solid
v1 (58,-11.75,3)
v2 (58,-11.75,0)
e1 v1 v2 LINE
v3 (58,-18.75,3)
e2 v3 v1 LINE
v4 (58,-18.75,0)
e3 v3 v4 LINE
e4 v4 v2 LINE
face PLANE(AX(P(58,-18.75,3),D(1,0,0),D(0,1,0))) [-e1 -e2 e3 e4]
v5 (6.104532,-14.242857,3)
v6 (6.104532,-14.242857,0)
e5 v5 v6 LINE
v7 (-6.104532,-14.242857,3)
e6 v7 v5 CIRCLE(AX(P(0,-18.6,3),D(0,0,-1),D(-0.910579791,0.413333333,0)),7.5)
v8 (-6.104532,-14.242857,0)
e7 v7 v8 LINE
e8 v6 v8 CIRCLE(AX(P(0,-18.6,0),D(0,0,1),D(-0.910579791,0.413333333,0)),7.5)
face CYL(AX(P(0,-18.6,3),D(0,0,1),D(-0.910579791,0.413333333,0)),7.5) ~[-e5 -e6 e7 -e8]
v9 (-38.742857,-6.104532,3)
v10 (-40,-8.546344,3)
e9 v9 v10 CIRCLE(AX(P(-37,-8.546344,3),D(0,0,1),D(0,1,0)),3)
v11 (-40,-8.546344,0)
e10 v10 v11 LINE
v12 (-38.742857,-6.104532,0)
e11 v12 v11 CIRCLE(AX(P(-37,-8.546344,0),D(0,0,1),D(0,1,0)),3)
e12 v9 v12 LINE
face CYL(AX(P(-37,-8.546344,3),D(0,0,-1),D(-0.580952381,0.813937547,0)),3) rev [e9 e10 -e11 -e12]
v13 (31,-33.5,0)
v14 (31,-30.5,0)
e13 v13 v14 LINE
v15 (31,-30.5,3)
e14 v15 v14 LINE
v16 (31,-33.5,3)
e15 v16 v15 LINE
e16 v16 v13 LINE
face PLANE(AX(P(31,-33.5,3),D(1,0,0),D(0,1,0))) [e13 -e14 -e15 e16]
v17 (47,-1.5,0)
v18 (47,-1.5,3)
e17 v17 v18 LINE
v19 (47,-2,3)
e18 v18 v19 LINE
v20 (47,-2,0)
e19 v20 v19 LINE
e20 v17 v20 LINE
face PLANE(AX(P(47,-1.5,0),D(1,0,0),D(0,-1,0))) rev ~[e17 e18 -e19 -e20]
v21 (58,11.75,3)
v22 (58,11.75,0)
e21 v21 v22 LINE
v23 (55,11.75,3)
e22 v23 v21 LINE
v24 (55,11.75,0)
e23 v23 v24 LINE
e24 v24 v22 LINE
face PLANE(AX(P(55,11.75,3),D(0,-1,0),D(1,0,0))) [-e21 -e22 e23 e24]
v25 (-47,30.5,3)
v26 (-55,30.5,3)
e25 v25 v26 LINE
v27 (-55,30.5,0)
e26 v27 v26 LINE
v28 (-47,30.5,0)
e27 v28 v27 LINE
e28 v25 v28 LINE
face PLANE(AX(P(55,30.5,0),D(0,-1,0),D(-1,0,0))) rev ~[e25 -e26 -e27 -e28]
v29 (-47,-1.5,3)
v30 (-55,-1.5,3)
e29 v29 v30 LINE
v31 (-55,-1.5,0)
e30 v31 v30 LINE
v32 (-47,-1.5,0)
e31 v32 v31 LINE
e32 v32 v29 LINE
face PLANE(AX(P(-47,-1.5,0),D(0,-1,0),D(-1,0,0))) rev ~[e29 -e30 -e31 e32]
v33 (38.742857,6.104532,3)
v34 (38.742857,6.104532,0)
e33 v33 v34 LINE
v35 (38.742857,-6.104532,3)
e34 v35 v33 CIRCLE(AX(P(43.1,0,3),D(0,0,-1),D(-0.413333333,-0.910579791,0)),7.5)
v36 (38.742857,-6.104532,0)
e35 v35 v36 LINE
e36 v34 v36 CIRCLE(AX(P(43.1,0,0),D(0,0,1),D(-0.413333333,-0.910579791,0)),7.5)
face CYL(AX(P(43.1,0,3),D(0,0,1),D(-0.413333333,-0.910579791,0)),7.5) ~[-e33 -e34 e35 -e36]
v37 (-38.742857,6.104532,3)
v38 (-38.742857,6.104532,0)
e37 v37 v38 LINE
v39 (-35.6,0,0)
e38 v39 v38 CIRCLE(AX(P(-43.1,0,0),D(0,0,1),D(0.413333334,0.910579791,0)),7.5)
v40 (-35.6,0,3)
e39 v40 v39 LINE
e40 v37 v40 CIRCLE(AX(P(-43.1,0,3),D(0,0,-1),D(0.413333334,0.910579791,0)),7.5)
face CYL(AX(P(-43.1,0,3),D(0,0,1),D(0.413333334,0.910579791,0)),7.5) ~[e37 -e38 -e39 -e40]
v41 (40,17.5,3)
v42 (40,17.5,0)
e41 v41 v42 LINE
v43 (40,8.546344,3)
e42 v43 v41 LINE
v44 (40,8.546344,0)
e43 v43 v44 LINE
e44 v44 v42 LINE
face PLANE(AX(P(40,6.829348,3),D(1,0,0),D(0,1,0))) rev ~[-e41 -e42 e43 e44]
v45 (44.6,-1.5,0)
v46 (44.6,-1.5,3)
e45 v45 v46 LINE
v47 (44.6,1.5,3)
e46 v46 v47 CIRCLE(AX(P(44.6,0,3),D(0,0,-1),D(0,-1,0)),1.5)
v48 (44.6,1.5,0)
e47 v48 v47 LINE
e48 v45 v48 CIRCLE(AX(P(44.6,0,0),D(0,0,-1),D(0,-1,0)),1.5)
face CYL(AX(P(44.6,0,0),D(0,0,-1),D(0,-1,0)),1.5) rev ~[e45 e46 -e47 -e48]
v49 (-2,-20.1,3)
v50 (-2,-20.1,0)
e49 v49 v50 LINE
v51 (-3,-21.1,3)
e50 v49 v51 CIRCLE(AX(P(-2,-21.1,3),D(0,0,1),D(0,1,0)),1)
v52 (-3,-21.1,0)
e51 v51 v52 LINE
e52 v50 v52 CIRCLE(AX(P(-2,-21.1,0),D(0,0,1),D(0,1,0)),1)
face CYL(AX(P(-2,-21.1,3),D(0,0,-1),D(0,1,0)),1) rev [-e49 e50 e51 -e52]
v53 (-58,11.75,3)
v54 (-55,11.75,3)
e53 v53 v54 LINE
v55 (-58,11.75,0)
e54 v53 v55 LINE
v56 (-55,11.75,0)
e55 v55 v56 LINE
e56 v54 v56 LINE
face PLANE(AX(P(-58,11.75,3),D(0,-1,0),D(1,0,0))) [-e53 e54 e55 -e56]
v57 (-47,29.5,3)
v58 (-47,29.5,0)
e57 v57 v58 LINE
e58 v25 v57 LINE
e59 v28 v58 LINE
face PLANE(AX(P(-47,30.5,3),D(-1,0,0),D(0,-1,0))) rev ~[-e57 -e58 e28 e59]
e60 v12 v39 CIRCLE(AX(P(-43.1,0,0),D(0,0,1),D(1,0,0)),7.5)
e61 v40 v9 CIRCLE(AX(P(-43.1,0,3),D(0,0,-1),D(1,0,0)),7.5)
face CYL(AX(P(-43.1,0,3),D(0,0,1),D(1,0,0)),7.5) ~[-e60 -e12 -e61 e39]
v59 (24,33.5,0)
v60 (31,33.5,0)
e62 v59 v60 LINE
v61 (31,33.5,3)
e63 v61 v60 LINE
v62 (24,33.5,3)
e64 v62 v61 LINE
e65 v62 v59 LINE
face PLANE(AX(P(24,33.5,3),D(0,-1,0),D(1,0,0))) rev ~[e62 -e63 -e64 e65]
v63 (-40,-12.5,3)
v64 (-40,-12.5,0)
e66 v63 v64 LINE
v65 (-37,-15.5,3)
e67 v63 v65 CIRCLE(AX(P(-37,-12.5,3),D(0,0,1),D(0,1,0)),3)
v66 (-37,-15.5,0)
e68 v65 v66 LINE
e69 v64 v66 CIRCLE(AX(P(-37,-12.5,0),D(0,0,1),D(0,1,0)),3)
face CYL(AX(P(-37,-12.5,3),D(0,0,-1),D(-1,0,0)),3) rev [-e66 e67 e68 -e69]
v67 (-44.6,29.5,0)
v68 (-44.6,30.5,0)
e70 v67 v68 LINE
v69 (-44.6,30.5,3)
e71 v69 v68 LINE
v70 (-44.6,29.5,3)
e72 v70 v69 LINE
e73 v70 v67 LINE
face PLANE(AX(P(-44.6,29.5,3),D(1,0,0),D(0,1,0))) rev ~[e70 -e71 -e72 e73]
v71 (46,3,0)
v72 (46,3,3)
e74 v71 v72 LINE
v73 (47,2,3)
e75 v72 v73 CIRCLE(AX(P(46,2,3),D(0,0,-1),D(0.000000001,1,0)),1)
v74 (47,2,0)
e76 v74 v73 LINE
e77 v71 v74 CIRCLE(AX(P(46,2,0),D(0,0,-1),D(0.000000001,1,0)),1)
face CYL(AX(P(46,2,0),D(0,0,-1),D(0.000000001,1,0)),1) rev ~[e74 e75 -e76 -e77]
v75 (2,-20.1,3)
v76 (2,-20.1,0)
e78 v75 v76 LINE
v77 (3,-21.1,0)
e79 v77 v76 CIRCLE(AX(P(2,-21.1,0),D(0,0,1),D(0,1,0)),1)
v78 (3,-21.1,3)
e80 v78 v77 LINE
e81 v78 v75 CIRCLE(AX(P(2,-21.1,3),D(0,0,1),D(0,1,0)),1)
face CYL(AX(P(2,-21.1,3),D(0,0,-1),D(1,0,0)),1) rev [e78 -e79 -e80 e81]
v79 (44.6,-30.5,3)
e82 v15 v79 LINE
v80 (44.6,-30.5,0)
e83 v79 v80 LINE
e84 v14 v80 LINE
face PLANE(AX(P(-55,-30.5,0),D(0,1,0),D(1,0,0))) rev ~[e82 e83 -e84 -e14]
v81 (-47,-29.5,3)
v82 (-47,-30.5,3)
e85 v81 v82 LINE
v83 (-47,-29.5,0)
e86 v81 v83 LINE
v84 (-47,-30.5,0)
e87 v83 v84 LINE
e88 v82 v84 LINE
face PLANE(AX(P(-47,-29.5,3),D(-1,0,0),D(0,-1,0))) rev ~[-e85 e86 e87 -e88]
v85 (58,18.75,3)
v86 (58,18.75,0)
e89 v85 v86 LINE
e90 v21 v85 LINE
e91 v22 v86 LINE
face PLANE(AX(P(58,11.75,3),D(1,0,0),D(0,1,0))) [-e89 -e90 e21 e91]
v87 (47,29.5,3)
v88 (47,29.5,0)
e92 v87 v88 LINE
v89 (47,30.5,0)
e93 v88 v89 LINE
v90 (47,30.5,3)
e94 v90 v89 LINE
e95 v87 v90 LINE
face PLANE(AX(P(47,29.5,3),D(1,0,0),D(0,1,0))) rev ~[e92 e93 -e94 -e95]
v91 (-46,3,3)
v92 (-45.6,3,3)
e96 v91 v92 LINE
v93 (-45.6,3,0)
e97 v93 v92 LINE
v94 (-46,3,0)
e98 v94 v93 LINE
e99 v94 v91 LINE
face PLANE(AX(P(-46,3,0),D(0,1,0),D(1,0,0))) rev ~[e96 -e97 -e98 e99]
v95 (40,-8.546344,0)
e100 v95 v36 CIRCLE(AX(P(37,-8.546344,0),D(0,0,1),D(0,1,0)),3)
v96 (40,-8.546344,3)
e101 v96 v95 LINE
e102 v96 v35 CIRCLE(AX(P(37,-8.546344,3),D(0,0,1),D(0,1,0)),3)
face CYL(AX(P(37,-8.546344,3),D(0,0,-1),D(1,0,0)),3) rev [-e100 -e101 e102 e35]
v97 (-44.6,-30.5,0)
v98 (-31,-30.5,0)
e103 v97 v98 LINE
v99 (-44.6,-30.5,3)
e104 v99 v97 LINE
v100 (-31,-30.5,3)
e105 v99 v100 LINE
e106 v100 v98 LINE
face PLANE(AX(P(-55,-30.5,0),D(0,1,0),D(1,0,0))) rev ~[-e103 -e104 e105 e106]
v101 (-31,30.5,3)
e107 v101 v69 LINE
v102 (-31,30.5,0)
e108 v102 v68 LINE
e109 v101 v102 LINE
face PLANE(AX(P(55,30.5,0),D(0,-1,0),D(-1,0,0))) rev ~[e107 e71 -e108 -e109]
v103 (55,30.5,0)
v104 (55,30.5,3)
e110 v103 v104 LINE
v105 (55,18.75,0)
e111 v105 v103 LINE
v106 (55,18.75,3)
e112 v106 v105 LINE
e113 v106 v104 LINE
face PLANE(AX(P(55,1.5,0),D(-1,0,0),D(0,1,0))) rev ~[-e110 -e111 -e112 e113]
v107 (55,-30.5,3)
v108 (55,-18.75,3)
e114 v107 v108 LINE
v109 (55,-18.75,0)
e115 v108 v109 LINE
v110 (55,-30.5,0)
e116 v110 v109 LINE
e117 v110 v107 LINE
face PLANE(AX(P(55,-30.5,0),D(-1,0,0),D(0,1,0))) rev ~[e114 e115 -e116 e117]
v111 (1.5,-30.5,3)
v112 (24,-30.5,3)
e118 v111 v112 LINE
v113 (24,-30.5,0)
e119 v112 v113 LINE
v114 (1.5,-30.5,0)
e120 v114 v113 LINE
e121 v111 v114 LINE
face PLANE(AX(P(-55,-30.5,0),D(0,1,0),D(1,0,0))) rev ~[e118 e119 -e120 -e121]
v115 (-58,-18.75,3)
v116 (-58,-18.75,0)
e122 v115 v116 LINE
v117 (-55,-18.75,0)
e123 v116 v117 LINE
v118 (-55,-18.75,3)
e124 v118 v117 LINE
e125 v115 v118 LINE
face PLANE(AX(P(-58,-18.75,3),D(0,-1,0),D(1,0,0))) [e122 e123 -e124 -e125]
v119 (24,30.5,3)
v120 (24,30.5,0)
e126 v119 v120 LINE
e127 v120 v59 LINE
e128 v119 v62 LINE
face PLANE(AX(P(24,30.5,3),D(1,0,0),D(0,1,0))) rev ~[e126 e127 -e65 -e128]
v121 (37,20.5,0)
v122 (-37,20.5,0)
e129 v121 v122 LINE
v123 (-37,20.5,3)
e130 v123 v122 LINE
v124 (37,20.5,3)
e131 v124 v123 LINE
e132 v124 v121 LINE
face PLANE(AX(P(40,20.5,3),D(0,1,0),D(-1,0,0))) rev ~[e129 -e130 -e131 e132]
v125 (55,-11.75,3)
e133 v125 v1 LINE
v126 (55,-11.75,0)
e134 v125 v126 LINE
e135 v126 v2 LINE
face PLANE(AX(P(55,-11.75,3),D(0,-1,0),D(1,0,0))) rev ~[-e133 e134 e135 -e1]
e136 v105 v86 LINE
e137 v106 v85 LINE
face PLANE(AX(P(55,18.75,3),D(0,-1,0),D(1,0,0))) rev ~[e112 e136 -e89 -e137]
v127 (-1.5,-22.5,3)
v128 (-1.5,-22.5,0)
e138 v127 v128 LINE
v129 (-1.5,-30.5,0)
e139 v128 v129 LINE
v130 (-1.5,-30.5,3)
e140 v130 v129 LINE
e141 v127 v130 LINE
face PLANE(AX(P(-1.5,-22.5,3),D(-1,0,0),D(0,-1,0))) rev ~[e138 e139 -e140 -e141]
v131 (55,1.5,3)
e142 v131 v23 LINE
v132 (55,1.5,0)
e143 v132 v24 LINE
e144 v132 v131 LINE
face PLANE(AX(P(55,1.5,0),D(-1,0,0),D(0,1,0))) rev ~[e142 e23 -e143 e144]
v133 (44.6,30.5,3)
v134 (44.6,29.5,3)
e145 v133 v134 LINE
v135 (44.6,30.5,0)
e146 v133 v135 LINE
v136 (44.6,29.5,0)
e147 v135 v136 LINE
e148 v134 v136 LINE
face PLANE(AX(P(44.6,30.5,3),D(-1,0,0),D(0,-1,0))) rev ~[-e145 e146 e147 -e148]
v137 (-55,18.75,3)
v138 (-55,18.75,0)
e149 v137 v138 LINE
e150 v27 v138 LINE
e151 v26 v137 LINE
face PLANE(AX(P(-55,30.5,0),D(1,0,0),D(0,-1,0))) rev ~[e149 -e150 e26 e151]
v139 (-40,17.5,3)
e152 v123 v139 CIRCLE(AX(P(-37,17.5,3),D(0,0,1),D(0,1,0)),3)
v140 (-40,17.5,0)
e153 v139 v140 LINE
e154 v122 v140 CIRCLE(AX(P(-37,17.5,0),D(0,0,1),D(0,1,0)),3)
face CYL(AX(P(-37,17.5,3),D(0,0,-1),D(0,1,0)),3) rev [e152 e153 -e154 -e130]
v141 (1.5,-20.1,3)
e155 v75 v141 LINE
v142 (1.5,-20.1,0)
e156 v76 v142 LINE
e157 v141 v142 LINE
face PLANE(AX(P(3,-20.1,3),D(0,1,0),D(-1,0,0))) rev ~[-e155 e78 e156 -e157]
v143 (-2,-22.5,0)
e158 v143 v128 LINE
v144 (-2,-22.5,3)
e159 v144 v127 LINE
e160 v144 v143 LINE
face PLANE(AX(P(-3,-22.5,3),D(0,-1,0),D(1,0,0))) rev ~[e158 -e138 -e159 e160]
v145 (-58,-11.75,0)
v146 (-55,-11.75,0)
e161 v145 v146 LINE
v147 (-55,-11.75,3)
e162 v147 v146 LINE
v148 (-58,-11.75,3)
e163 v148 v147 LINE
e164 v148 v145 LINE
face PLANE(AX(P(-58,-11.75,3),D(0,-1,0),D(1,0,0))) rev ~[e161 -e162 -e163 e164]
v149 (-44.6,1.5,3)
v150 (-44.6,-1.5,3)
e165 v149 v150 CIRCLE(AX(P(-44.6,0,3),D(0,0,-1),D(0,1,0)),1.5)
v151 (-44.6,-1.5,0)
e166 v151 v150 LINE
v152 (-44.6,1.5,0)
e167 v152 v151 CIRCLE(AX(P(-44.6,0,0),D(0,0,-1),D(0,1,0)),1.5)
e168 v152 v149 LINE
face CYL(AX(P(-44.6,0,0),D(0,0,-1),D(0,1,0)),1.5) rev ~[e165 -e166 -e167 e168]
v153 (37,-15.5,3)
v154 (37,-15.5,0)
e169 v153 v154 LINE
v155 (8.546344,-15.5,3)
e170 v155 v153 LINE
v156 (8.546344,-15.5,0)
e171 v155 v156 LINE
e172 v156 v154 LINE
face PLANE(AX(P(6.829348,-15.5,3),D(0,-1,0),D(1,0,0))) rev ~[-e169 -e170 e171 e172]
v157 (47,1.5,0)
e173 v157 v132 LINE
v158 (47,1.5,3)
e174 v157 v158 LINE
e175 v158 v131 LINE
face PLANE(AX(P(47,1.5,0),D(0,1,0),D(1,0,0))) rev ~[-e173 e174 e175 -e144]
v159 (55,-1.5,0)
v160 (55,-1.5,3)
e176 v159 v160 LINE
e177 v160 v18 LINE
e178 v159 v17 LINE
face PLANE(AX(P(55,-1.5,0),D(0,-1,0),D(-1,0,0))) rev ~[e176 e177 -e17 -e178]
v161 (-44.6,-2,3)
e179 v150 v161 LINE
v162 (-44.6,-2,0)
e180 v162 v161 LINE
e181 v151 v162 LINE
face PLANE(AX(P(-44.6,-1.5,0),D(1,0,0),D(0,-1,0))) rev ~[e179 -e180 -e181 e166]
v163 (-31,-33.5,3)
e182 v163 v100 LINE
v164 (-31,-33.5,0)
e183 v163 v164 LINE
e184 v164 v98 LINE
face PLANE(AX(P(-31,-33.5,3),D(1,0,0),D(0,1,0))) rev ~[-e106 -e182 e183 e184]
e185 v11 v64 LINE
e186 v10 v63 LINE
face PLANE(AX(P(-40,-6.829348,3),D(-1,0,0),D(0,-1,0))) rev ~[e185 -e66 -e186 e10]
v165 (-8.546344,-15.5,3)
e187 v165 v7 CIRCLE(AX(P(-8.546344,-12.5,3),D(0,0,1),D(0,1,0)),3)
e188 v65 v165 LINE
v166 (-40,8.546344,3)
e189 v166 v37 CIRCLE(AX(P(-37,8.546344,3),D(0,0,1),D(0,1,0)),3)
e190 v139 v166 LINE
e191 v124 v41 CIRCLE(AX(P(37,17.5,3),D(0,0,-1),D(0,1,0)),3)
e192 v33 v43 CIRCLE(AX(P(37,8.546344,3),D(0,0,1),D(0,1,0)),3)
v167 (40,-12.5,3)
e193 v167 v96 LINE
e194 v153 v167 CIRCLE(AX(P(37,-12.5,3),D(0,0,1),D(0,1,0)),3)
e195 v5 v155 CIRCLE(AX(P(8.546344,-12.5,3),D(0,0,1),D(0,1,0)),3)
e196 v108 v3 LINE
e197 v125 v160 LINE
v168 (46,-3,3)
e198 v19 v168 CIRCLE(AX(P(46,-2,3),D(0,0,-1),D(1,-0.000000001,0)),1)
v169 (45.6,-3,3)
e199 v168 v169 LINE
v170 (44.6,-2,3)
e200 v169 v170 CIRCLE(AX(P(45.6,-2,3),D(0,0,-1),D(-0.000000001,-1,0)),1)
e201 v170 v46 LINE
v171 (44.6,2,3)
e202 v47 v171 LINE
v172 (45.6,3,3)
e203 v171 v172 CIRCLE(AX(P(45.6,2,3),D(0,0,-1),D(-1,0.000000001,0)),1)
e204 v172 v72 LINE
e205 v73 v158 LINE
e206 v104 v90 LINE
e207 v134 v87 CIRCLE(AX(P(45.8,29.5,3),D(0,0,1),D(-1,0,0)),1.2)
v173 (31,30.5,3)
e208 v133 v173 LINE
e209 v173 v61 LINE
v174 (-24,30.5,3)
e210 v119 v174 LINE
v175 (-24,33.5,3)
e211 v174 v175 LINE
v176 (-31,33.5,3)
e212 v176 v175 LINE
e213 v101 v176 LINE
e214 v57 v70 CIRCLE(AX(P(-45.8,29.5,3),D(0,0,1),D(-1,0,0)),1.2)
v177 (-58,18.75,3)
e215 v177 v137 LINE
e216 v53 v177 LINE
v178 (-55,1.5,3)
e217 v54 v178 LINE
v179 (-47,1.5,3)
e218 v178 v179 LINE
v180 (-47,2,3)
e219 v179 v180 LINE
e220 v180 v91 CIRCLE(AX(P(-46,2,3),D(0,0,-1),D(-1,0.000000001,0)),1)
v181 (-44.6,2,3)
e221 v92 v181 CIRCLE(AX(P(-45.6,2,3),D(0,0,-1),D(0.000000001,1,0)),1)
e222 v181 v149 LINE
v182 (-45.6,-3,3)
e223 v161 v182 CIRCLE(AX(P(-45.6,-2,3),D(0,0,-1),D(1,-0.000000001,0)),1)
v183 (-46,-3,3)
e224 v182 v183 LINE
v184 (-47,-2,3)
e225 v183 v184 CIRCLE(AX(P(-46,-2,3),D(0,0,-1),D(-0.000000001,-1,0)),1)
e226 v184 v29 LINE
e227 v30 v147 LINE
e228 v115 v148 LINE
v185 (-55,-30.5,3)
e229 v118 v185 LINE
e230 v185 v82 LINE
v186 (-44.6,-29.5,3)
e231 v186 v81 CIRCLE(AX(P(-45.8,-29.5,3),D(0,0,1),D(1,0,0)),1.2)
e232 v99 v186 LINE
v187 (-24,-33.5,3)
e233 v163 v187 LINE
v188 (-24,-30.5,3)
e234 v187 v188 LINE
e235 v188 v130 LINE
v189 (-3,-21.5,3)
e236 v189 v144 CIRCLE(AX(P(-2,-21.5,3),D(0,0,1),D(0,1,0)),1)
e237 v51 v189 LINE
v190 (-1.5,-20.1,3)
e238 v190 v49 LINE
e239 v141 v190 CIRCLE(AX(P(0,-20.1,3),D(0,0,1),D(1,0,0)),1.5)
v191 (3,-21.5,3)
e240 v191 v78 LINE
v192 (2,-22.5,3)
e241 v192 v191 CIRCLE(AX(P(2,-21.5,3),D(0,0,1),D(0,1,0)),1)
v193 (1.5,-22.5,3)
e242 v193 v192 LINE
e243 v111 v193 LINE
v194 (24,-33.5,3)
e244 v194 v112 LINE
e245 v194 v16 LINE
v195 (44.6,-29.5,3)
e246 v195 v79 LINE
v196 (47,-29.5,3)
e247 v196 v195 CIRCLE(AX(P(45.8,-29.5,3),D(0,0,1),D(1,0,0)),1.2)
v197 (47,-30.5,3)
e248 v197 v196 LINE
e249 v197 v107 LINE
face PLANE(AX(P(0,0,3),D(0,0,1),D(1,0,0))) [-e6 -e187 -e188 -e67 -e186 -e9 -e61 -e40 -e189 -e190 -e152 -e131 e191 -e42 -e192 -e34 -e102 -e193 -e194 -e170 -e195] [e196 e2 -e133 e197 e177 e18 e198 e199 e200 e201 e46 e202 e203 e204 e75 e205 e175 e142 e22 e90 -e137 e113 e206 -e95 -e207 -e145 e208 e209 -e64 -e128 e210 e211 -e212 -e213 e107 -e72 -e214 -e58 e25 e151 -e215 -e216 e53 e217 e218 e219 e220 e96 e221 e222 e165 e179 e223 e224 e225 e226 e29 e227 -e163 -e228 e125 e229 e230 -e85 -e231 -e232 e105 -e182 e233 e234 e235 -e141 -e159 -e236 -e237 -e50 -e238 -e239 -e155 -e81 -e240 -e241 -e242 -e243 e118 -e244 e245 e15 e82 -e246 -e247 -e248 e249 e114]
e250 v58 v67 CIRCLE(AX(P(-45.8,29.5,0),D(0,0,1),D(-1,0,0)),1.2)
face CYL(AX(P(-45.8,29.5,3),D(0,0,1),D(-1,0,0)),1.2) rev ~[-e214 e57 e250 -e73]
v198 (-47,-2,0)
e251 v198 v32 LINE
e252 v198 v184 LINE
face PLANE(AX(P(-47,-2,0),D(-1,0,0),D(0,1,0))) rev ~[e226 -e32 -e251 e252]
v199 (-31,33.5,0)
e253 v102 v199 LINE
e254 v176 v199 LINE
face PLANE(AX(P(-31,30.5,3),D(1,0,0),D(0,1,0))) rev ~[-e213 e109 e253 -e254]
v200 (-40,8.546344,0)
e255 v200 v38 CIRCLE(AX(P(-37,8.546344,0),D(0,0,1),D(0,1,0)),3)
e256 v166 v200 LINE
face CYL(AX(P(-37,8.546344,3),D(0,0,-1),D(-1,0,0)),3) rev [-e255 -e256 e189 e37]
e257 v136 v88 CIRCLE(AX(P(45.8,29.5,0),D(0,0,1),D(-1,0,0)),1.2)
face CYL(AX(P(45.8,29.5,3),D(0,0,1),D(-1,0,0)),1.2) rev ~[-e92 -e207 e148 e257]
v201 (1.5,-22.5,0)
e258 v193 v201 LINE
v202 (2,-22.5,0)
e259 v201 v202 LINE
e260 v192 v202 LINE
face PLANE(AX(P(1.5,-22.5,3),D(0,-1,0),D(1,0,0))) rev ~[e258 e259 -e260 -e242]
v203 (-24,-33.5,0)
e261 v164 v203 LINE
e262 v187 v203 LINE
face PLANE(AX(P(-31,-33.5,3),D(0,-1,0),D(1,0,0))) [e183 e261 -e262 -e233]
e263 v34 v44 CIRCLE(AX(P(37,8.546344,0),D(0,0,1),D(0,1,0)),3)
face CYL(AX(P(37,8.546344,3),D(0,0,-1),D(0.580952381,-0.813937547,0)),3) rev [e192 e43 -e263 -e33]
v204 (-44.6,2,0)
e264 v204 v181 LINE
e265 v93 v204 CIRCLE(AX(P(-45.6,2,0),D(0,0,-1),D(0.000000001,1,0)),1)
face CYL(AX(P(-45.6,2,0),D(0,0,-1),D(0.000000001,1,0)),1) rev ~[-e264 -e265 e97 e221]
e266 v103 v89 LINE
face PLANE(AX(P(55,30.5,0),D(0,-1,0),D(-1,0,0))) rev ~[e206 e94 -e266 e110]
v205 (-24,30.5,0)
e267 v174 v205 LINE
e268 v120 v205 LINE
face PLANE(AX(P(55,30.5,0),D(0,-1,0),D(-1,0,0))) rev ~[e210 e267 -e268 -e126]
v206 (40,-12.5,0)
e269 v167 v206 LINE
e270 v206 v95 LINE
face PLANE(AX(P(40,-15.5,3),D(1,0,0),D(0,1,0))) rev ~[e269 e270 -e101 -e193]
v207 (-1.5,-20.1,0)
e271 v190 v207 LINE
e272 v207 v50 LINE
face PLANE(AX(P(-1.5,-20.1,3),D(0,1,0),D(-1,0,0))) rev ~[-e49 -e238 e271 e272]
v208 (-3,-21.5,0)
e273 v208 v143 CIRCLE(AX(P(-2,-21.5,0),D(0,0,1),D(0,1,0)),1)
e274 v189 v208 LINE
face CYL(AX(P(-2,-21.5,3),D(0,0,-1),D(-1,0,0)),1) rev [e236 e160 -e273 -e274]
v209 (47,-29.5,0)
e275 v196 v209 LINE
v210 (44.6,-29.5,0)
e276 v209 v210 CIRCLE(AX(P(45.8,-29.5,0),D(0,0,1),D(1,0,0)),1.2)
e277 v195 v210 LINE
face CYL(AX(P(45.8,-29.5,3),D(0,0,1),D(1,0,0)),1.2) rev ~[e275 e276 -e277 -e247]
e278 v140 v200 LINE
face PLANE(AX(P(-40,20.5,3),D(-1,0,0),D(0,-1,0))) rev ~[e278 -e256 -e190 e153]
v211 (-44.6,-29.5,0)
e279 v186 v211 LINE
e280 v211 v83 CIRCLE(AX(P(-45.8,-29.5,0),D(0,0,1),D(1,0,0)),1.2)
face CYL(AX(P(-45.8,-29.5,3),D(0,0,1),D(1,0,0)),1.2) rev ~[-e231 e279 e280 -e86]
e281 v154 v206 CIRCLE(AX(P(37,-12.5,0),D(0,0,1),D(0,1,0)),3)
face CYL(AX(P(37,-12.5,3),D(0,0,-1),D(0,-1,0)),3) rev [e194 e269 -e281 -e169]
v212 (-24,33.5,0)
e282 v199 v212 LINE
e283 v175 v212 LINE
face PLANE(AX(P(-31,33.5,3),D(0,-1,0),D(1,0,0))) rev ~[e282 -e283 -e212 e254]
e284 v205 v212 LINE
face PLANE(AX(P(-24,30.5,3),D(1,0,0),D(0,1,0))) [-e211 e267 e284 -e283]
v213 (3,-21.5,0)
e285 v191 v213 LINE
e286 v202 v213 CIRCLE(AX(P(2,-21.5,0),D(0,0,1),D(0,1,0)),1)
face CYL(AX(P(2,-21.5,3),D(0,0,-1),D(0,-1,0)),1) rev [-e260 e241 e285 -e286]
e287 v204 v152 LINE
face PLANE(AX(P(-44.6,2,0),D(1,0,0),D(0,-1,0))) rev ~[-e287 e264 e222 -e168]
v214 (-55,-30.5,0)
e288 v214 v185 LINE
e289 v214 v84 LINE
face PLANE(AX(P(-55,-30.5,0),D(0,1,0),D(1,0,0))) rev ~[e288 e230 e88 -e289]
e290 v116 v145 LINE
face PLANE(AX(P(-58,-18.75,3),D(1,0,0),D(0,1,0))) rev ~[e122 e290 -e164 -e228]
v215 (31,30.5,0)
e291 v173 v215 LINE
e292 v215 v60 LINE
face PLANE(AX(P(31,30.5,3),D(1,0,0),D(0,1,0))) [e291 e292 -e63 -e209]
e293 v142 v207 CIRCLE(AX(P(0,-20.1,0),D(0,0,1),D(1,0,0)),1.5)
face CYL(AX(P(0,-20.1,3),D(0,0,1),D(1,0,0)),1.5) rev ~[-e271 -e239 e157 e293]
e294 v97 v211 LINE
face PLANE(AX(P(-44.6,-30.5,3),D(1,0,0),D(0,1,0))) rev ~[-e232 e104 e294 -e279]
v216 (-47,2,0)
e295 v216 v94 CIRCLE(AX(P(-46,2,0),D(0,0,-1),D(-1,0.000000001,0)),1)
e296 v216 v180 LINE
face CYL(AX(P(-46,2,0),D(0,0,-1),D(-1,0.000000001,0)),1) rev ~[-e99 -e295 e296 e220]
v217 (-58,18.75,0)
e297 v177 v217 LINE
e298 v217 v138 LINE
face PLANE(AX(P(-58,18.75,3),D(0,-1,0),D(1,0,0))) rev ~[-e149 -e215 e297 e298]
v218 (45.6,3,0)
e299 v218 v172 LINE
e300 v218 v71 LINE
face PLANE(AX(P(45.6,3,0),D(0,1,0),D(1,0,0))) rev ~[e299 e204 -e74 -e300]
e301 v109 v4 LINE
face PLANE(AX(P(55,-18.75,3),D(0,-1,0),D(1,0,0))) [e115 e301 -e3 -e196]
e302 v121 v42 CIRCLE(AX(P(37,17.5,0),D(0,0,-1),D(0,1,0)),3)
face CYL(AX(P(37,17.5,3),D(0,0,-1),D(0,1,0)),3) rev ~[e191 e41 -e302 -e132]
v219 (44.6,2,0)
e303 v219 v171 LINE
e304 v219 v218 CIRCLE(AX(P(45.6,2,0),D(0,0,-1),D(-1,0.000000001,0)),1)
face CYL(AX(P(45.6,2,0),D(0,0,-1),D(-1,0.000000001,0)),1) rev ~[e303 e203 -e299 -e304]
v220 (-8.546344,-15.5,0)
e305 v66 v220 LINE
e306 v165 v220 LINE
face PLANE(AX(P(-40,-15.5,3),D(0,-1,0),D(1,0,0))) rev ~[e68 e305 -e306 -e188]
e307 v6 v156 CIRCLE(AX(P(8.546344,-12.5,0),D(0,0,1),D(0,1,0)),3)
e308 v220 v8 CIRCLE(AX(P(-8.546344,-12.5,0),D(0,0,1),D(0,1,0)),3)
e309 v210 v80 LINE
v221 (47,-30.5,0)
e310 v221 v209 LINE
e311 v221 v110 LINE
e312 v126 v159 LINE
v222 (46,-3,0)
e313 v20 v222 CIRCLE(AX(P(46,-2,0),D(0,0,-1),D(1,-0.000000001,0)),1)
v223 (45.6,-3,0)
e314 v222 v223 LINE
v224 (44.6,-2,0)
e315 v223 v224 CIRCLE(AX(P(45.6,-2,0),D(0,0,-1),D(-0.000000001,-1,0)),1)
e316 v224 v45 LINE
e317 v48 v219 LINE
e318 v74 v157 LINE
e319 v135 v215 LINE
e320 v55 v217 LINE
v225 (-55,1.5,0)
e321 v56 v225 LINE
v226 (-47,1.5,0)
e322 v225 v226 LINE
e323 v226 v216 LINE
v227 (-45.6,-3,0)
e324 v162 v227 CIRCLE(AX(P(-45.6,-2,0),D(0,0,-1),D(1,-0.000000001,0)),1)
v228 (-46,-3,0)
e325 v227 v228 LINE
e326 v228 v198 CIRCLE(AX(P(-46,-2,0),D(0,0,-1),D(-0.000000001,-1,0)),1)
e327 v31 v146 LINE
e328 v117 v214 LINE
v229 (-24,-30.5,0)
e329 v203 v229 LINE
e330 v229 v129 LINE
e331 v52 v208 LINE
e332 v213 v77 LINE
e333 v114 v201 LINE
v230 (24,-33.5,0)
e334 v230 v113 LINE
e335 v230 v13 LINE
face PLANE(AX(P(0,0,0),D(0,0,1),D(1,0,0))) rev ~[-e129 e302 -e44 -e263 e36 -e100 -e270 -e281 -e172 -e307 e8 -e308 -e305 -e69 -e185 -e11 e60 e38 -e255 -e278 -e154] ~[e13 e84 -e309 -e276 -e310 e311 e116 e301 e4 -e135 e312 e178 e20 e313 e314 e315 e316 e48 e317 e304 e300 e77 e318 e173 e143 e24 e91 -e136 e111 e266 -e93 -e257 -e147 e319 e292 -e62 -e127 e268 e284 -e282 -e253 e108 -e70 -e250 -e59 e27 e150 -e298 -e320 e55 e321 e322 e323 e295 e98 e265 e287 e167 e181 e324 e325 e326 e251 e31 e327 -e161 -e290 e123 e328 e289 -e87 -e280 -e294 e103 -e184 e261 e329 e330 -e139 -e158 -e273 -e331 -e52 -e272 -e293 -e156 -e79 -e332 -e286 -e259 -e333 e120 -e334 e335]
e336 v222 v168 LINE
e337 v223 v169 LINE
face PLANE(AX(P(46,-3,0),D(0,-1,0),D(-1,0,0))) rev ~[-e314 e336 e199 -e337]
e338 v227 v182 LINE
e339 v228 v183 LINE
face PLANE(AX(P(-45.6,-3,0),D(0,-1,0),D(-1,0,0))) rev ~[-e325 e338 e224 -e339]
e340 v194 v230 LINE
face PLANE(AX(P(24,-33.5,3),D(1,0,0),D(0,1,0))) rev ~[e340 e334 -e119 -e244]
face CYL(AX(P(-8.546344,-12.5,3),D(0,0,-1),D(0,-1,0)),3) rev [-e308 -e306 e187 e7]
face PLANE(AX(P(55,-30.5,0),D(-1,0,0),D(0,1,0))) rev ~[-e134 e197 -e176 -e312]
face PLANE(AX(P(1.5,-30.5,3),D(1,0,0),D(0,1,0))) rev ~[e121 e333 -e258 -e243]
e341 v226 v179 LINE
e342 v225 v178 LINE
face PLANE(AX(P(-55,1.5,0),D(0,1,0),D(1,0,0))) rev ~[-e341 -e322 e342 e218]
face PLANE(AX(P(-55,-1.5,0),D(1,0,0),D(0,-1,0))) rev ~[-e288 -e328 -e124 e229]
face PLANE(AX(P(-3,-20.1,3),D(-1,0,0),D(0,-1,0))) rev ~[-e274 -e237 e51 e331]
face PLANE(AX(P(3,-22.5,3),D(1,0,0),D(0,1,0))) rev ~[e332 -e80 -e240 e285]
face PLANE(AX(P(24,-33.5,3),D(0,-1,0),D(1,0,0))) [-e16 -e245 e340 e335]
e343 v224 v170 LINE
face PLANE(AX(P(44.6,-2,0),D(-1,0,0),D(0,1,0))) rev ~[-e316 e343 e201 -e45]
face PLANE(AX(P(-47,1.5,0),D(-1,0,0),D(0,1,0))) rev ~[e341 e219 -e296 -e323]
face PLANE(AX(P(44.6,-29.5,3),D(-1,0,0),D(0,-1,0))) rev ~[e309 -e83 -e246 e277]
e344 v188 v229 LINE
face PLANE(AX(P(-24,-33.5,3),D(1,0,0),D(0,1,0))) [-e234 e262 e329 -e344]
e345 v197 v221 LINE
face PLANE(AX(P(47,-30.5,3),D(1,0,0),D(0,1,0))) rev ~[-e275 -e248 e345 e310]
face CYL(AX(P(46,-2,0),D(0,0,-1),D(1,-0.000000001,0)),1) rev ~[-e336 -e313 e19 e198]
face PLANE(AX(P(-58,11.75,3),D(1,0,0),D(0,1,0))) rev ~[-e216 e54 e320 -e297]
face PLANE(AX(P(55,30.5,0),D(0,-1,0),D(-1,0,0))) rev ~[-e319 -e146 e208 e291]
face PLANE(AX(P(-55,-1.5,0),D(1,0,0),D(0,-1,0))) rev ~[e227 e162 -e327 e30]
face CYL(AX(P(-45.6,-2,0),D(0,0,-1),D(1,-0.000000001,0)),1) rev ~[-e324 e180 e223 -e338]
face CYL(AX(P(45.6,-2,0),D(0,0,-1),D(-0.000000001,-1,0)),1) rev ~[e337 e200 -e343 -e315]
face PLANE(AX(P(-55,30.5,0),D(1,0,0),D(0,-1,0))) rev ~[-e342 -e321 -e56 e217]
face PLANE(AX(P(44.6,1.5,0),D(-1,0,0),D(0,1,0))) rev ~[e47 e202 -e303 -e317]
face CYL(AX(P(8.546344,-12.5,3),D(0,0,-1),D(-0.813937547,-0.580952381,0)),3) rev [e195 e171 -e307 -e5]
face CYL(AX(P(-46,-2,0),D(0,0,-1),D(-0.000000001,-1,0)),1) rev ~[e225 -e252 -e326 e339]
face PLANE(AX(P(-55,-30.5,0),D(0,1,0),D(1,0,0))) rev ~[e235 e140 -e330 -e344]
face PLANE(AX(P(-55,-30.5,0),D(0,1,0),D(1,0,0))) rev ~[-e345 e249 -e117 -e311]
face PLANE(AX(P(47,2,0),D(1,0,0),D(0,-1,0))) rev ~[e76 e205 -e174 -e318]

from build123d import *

# Parameters (mm, degrees)
BOSS_EXTRUDE1_DEPTH = 3
CUT_EXTRUDE1_DEPTH  = 3
CUT_EXTRUDE3_DEPTH  = 3
FILLET2_R           = 1
CUT_EXTRUDE4_DEPTH  = 10
FILLET3_R           = 3
SKETCH5_W           = 3
SKETCH5_H           = 7
SKETCH5_W_2         = 7
SKETCH5_H_2         = 3
BOSS_EXTRUDE2_DEPTH = 3


with BuildPart() as part:
    # Sketch1 → Boss-Extrude1 (new body)
    with BuildSketch(Plane.XY):
        with BuildLine():
            Line((55, 30.5), (-55, 30.5))
            Line((-55, 30.5), (-55, 1.5))
            Line((-55, 1.5), (-47, 1.5))
            Line((-47, 1.5), (-47, 2))
            Line((-47, 2), (-47, 3))
            Line((-47, 3), (-46, 3))
            Line((-46, 3), (-45.6, 3))
            Line((-45.6, 3), (-44.6, 3))
            Line((-44.6, 3), (-44.6, 2))
            Line((-44.6, 2), (-44.6, 1.5))
            ThreePointArc((-44.6, 1.5), (-43.1, 0), (-44.6, -1.5))
            Line((-44.6, -1.5), (-44.6, -2))
            Line((-44.6, -2), (-44.6, -3))
            Line((-44.6, -3), (-45.6, -3))
            Line((-45.6, -3), (-46, -3))
            Line((-46, -3), (-47, -3))
            Line((-47, -3), (-47, -2))
            Line((-47, -2), (-47, -1.5))
            Line((-47, -1.5), (-55, -1.5))
            Line((-55, -1.5), (-55, -30.5))
            Line((-55, -30.5), (55, -30.5))
            Line((55, -30.5), (55, -1.5))
            Line((55, -1.5), (47, -1.5))
            Line((47, -1.5), (47, -2))
            Line((47, -2), (47, -3))
            Line((47, -3), (46, -3))
            Line((46, -3), (45.6, -3))
            Line((45.6, -3), (44.6, -3))
            Line((44.6, -3), (44.6, -2))
            Line((44.6, -2), (44.6, -1.5))
            ThreePointArc((44.6, -1.5), (43.1, 0), (44.6, 1.5))
            Line((44.6, 1.5), (44.6, 2))
            Line((44.6, 2), (44.6, 3))
            Line((44.6, 3), (45.6, 3))
            Line((45.6, 3), (46, 3))
            Line((46, 3), (47, 3))
            Line((47, 3), (47, 2))
            Line((47, 2), (47, 1.5))
            Line((47, 1.5), (55, 1.5))
            Line((55, 1.5), (55, 30.5))
        make_face()
        with BuildLine():
            ThreePointArc((-46, -3), (-46.707106781, -2.707106781), (-47, -2))
            Line((-47, -2), (-47, -3))
            Line((-47, -3), (-46, -3))
        make_face()
        with BuildLine():
            ThreePointArc((-44.6, -2), (-44.892893219, -2.707106781), (-45.6, -3))
            Line((-45.6, -3), (-44.6, -3))
            Line((-44.6, -3), (-44.6, -2))
        make_face()
        with BuildLine():
            Line((-44.6, 3), (-45.6, 3))
            ThreePointArc((-45.6, 3), (-44.892893219, 2.707106781), (-44.6, 2))
            Line((-44.6, 2), (-44.6, 3))
        make_face()
        with BuildLine():
            Line((-47, 3), (-47, 2))
            ThreePointArc((-47, 2), (-46.707106781, 2.707106781), (-46, 3))
            Line((-46, 3), (-47, 3))
        make_face()
        with BuildLine():
            Line((44.6, -3), (45.6, -3))
            ThreePointArc((45.6, -3), (44.892893219, -2.707106781), (44.6, -2))
            Line((44.6, -2), (44.6, -3))
        make_face()
        with BuildLine():
            Line((47, -3), (47, -2))
            ThreePointArc((47, -2), (46.707106781, -2.707106781), (46, -3))
            Line((46, -3), (47, -3))
        make_face()
        with BuildLine():
            ThreePointArc((46, 3), (46.707106781, 2.707106781), (47, 2))
            Line((47, 2), (47, 3))
            Line((47, 3), (46, 3))
        make_face()
        with BuildLine():
            ThreePointArc((44.6, 2), (44.892893219, 2.707106781), (45.6, 3))
            Line((45.6, 3), (44.6, 3))
            Line((44.6, 3), (44.6, 2))
        make_face()
    extrude(amount=BOSS_EXTRUDE1_DEPTH)

    # Sketch2 → Cut-Extrude1 (cut)
    with BuildSketch(Plane.XY.offset(3)):
        with BuildLine():
            Line((45.136675042, 30.5), (44.6, 30.5))
            Line((44.6, 30.5), (44.6, 29.5))
            ThreePointArc((44.6, 29.5), (45.8, 28.3), (47, 29.5))
            Line((47, 29.5), (47, 30.5))
            Line((47, 30.5), (46.463324958, 30.5))
            Line((46.463324958, 30.5), (45.136675042, 30.5))
        make_face()
        with BuildLine():
            Line((44.6, -29.5), (44.6, -30.5))
            Line((44.6, -30.5), (45.136675042, -30.5))
            Line((45.136675042, -30.5), (46.463324958, -30.5))
            Line((46.463324958, -30.5), (47, -30.5))
            Line((47, -30.5), (47, -29.5))
            ThreePointArc((47, -29.5), (45.8, -28.3), (44.6, -29.5))
        make_face()
        with BuildLine():
            ThreePointArc((-44.6, -29.5), (-45.8, -28.3), (-47, -29.5))
            Line((-47, -29.5), (-47, -30.5))
            Line((-47, -30.5), (-46.463324958, -30.5))
            Line((-46.463324958, -30.5), (-45.136675042, -30.5))
            Line((-45.136675042, -30.5), (-44.6, -30.5))
            Line((-44.6, -30.5), (-44.6, -29.5))
        make_face()
        with BuildLine():
            Line((-47, 30.5), (-47, 29.5))
            ThreePointArc((-47, 29.5), (-45.8, 28.3), (-44.6, 29.5))
            Line((-44.6, 29.5), (-44.6, 30.5))
            Line((-44.6, 30.5), (-45.136675042, 30.5))
            Line((-45.136675042, 30.5), (-46.463324958, 30.5))
            Line((-46.463324958, 30.5), (-47, 30.5))
        make_face()
    extrude(amount=-CUT_EXTRUDE1_DEPTH, mode=Mode.SUBTRACT)

    # Sketch3 → Cut-Extrude3 (cut)
    with BuildSketch(Plane.XY.offset(3)):
        with BuildLine():
            ThreePointArc((1.5, -20.1), (0, -18.6), (-1.5, -20.1))
            Line((-1.5, -20.1), (-3, -20.1))
            Line((-3, -20.1), (-3, -22.5))
            Line((-3, -22.5), (-1.5, -22.5))
            Line((-1.5, -22.5), (-1.5, -30.5))
            Line((-1.5, -30.5), (0, -30.5))
            Line((0, -30.5), (1.5, -30.5))
            Line((1.5, -30.5), (1.5, -22.5))
            Line((1.5, -22.5), (3, -22.5))
            Line((3, -22.5), (3, -20.1))
            Line((3, -20.1), (1.5, -20.1))
        make_face()
    extrude(amount=-CUT_EXTRUDE3_DEPTH, mode=Mode.SUBTRACT)

    # Fillet2
    fillet2_edges = [part.edges().sort_by_distance(p)[0] for p in [
        (3, -20.1, 1.5),
        (3, -22.5, 1.5),
        (-3, -22.5, 1.5),
        (-3, -20.1, 1.5),
    ]]
    fillet(fillet2_edges, radius=FILLET2_R)

    # Sketch4 → Cut-Extrude4 (cut)
    with BuildSketch(Plane.XY.offset(3)):
        with BuildLine():
            Line((40, 20.5), (-40, 20.5))
            Line((-40, 20.5), (-40, 6.829348432))
            ThreePointArc((-40, 6.829348432), (-36.795239894, 4.062019202), (-35.6, 0))
            ThreePointArc((-35.6, 0), (-36.795239894, -4.062019202), (-40, -6.829348432))
            Line((-40, -6.829348432), (-40, -15.5))
            Line((-40, -15.5), (-6.829348432, -15.5))
            ThreePointArc((-6.829348432, -15.5), (0, -11.1), (6.829348432, -15.5))
            Line((6.829348432, -15.5), (40, -15.5))
            Line((40, -15.5), (40, -6.829348432))
            ThreePointArc((40, -6.829348432), (35.6, 0), (40, 6.829348432))
            Line((40, 6.829348432), (40, 20.5))
        make_face()
    extrude(amount=-CUT_EXTRUDE4_DEPTH, mode=Mode.SUBTRACT)

    # Fillet3
    fillet3_edges = [part.edges().sort_by_distance(p)[0] for p in [
        (40, 6.829348432, 1.5),
        (40, -6.829348432, 1.5),
        (40, -15.5, 1.5),
        (6.829348432, -15.5, 1.5),
        (-6.829348432, -15.5, 1.5),
        (-40, -15.5, 1.5),
        (-40, -6.829348432, 1.5),
        (-40, 6.829348432, 1.5),
        (-40, 20.5, 1.5),
        (40, 20.5, 1.5),
    ]]
    fillet(fillet3_edges, radius=FILLET3_R)

    # Sketch5 → Boss-Extrude2 (add)
    with BuildSketch(Plane.XY.offset(3)):
        with Locations((-56.5, 15.25)):
            Rectangle(SKETCH5_W, SKETCH5_H)
        with Locations((-56.5, -15.25)):
            Rectangle(SKETCH5_W, SKETCH5_H)
        with Locations((56.5, -15.25)):
            Rectangle(SKETCH5_W, SKETCH5_H)
        with Locations((56.5, 15.25)):
            Rectangle(SKETCH5_W, SKETCH5_H)
        with Locations((27.5, -32)):
            Rectangle(SKETCH5_W_2, SKETCH5_H_2)
        with Locations((-27.5, -32)):
            Rectangle(SKETCH5_W_2, SKETCH5_H_2)
        with Locations((-27.5, 32)):
            Rectangle(SKETCH5_W_2, SKETCH5_H_2)
        with Locations((27.5, 32)):
            Rectangle(SKETCH5_W_2, SKETCH5_H_2)
    extrude(amount=-BOSS_EXTRUDE2_DEPTH)


solid = part.part
